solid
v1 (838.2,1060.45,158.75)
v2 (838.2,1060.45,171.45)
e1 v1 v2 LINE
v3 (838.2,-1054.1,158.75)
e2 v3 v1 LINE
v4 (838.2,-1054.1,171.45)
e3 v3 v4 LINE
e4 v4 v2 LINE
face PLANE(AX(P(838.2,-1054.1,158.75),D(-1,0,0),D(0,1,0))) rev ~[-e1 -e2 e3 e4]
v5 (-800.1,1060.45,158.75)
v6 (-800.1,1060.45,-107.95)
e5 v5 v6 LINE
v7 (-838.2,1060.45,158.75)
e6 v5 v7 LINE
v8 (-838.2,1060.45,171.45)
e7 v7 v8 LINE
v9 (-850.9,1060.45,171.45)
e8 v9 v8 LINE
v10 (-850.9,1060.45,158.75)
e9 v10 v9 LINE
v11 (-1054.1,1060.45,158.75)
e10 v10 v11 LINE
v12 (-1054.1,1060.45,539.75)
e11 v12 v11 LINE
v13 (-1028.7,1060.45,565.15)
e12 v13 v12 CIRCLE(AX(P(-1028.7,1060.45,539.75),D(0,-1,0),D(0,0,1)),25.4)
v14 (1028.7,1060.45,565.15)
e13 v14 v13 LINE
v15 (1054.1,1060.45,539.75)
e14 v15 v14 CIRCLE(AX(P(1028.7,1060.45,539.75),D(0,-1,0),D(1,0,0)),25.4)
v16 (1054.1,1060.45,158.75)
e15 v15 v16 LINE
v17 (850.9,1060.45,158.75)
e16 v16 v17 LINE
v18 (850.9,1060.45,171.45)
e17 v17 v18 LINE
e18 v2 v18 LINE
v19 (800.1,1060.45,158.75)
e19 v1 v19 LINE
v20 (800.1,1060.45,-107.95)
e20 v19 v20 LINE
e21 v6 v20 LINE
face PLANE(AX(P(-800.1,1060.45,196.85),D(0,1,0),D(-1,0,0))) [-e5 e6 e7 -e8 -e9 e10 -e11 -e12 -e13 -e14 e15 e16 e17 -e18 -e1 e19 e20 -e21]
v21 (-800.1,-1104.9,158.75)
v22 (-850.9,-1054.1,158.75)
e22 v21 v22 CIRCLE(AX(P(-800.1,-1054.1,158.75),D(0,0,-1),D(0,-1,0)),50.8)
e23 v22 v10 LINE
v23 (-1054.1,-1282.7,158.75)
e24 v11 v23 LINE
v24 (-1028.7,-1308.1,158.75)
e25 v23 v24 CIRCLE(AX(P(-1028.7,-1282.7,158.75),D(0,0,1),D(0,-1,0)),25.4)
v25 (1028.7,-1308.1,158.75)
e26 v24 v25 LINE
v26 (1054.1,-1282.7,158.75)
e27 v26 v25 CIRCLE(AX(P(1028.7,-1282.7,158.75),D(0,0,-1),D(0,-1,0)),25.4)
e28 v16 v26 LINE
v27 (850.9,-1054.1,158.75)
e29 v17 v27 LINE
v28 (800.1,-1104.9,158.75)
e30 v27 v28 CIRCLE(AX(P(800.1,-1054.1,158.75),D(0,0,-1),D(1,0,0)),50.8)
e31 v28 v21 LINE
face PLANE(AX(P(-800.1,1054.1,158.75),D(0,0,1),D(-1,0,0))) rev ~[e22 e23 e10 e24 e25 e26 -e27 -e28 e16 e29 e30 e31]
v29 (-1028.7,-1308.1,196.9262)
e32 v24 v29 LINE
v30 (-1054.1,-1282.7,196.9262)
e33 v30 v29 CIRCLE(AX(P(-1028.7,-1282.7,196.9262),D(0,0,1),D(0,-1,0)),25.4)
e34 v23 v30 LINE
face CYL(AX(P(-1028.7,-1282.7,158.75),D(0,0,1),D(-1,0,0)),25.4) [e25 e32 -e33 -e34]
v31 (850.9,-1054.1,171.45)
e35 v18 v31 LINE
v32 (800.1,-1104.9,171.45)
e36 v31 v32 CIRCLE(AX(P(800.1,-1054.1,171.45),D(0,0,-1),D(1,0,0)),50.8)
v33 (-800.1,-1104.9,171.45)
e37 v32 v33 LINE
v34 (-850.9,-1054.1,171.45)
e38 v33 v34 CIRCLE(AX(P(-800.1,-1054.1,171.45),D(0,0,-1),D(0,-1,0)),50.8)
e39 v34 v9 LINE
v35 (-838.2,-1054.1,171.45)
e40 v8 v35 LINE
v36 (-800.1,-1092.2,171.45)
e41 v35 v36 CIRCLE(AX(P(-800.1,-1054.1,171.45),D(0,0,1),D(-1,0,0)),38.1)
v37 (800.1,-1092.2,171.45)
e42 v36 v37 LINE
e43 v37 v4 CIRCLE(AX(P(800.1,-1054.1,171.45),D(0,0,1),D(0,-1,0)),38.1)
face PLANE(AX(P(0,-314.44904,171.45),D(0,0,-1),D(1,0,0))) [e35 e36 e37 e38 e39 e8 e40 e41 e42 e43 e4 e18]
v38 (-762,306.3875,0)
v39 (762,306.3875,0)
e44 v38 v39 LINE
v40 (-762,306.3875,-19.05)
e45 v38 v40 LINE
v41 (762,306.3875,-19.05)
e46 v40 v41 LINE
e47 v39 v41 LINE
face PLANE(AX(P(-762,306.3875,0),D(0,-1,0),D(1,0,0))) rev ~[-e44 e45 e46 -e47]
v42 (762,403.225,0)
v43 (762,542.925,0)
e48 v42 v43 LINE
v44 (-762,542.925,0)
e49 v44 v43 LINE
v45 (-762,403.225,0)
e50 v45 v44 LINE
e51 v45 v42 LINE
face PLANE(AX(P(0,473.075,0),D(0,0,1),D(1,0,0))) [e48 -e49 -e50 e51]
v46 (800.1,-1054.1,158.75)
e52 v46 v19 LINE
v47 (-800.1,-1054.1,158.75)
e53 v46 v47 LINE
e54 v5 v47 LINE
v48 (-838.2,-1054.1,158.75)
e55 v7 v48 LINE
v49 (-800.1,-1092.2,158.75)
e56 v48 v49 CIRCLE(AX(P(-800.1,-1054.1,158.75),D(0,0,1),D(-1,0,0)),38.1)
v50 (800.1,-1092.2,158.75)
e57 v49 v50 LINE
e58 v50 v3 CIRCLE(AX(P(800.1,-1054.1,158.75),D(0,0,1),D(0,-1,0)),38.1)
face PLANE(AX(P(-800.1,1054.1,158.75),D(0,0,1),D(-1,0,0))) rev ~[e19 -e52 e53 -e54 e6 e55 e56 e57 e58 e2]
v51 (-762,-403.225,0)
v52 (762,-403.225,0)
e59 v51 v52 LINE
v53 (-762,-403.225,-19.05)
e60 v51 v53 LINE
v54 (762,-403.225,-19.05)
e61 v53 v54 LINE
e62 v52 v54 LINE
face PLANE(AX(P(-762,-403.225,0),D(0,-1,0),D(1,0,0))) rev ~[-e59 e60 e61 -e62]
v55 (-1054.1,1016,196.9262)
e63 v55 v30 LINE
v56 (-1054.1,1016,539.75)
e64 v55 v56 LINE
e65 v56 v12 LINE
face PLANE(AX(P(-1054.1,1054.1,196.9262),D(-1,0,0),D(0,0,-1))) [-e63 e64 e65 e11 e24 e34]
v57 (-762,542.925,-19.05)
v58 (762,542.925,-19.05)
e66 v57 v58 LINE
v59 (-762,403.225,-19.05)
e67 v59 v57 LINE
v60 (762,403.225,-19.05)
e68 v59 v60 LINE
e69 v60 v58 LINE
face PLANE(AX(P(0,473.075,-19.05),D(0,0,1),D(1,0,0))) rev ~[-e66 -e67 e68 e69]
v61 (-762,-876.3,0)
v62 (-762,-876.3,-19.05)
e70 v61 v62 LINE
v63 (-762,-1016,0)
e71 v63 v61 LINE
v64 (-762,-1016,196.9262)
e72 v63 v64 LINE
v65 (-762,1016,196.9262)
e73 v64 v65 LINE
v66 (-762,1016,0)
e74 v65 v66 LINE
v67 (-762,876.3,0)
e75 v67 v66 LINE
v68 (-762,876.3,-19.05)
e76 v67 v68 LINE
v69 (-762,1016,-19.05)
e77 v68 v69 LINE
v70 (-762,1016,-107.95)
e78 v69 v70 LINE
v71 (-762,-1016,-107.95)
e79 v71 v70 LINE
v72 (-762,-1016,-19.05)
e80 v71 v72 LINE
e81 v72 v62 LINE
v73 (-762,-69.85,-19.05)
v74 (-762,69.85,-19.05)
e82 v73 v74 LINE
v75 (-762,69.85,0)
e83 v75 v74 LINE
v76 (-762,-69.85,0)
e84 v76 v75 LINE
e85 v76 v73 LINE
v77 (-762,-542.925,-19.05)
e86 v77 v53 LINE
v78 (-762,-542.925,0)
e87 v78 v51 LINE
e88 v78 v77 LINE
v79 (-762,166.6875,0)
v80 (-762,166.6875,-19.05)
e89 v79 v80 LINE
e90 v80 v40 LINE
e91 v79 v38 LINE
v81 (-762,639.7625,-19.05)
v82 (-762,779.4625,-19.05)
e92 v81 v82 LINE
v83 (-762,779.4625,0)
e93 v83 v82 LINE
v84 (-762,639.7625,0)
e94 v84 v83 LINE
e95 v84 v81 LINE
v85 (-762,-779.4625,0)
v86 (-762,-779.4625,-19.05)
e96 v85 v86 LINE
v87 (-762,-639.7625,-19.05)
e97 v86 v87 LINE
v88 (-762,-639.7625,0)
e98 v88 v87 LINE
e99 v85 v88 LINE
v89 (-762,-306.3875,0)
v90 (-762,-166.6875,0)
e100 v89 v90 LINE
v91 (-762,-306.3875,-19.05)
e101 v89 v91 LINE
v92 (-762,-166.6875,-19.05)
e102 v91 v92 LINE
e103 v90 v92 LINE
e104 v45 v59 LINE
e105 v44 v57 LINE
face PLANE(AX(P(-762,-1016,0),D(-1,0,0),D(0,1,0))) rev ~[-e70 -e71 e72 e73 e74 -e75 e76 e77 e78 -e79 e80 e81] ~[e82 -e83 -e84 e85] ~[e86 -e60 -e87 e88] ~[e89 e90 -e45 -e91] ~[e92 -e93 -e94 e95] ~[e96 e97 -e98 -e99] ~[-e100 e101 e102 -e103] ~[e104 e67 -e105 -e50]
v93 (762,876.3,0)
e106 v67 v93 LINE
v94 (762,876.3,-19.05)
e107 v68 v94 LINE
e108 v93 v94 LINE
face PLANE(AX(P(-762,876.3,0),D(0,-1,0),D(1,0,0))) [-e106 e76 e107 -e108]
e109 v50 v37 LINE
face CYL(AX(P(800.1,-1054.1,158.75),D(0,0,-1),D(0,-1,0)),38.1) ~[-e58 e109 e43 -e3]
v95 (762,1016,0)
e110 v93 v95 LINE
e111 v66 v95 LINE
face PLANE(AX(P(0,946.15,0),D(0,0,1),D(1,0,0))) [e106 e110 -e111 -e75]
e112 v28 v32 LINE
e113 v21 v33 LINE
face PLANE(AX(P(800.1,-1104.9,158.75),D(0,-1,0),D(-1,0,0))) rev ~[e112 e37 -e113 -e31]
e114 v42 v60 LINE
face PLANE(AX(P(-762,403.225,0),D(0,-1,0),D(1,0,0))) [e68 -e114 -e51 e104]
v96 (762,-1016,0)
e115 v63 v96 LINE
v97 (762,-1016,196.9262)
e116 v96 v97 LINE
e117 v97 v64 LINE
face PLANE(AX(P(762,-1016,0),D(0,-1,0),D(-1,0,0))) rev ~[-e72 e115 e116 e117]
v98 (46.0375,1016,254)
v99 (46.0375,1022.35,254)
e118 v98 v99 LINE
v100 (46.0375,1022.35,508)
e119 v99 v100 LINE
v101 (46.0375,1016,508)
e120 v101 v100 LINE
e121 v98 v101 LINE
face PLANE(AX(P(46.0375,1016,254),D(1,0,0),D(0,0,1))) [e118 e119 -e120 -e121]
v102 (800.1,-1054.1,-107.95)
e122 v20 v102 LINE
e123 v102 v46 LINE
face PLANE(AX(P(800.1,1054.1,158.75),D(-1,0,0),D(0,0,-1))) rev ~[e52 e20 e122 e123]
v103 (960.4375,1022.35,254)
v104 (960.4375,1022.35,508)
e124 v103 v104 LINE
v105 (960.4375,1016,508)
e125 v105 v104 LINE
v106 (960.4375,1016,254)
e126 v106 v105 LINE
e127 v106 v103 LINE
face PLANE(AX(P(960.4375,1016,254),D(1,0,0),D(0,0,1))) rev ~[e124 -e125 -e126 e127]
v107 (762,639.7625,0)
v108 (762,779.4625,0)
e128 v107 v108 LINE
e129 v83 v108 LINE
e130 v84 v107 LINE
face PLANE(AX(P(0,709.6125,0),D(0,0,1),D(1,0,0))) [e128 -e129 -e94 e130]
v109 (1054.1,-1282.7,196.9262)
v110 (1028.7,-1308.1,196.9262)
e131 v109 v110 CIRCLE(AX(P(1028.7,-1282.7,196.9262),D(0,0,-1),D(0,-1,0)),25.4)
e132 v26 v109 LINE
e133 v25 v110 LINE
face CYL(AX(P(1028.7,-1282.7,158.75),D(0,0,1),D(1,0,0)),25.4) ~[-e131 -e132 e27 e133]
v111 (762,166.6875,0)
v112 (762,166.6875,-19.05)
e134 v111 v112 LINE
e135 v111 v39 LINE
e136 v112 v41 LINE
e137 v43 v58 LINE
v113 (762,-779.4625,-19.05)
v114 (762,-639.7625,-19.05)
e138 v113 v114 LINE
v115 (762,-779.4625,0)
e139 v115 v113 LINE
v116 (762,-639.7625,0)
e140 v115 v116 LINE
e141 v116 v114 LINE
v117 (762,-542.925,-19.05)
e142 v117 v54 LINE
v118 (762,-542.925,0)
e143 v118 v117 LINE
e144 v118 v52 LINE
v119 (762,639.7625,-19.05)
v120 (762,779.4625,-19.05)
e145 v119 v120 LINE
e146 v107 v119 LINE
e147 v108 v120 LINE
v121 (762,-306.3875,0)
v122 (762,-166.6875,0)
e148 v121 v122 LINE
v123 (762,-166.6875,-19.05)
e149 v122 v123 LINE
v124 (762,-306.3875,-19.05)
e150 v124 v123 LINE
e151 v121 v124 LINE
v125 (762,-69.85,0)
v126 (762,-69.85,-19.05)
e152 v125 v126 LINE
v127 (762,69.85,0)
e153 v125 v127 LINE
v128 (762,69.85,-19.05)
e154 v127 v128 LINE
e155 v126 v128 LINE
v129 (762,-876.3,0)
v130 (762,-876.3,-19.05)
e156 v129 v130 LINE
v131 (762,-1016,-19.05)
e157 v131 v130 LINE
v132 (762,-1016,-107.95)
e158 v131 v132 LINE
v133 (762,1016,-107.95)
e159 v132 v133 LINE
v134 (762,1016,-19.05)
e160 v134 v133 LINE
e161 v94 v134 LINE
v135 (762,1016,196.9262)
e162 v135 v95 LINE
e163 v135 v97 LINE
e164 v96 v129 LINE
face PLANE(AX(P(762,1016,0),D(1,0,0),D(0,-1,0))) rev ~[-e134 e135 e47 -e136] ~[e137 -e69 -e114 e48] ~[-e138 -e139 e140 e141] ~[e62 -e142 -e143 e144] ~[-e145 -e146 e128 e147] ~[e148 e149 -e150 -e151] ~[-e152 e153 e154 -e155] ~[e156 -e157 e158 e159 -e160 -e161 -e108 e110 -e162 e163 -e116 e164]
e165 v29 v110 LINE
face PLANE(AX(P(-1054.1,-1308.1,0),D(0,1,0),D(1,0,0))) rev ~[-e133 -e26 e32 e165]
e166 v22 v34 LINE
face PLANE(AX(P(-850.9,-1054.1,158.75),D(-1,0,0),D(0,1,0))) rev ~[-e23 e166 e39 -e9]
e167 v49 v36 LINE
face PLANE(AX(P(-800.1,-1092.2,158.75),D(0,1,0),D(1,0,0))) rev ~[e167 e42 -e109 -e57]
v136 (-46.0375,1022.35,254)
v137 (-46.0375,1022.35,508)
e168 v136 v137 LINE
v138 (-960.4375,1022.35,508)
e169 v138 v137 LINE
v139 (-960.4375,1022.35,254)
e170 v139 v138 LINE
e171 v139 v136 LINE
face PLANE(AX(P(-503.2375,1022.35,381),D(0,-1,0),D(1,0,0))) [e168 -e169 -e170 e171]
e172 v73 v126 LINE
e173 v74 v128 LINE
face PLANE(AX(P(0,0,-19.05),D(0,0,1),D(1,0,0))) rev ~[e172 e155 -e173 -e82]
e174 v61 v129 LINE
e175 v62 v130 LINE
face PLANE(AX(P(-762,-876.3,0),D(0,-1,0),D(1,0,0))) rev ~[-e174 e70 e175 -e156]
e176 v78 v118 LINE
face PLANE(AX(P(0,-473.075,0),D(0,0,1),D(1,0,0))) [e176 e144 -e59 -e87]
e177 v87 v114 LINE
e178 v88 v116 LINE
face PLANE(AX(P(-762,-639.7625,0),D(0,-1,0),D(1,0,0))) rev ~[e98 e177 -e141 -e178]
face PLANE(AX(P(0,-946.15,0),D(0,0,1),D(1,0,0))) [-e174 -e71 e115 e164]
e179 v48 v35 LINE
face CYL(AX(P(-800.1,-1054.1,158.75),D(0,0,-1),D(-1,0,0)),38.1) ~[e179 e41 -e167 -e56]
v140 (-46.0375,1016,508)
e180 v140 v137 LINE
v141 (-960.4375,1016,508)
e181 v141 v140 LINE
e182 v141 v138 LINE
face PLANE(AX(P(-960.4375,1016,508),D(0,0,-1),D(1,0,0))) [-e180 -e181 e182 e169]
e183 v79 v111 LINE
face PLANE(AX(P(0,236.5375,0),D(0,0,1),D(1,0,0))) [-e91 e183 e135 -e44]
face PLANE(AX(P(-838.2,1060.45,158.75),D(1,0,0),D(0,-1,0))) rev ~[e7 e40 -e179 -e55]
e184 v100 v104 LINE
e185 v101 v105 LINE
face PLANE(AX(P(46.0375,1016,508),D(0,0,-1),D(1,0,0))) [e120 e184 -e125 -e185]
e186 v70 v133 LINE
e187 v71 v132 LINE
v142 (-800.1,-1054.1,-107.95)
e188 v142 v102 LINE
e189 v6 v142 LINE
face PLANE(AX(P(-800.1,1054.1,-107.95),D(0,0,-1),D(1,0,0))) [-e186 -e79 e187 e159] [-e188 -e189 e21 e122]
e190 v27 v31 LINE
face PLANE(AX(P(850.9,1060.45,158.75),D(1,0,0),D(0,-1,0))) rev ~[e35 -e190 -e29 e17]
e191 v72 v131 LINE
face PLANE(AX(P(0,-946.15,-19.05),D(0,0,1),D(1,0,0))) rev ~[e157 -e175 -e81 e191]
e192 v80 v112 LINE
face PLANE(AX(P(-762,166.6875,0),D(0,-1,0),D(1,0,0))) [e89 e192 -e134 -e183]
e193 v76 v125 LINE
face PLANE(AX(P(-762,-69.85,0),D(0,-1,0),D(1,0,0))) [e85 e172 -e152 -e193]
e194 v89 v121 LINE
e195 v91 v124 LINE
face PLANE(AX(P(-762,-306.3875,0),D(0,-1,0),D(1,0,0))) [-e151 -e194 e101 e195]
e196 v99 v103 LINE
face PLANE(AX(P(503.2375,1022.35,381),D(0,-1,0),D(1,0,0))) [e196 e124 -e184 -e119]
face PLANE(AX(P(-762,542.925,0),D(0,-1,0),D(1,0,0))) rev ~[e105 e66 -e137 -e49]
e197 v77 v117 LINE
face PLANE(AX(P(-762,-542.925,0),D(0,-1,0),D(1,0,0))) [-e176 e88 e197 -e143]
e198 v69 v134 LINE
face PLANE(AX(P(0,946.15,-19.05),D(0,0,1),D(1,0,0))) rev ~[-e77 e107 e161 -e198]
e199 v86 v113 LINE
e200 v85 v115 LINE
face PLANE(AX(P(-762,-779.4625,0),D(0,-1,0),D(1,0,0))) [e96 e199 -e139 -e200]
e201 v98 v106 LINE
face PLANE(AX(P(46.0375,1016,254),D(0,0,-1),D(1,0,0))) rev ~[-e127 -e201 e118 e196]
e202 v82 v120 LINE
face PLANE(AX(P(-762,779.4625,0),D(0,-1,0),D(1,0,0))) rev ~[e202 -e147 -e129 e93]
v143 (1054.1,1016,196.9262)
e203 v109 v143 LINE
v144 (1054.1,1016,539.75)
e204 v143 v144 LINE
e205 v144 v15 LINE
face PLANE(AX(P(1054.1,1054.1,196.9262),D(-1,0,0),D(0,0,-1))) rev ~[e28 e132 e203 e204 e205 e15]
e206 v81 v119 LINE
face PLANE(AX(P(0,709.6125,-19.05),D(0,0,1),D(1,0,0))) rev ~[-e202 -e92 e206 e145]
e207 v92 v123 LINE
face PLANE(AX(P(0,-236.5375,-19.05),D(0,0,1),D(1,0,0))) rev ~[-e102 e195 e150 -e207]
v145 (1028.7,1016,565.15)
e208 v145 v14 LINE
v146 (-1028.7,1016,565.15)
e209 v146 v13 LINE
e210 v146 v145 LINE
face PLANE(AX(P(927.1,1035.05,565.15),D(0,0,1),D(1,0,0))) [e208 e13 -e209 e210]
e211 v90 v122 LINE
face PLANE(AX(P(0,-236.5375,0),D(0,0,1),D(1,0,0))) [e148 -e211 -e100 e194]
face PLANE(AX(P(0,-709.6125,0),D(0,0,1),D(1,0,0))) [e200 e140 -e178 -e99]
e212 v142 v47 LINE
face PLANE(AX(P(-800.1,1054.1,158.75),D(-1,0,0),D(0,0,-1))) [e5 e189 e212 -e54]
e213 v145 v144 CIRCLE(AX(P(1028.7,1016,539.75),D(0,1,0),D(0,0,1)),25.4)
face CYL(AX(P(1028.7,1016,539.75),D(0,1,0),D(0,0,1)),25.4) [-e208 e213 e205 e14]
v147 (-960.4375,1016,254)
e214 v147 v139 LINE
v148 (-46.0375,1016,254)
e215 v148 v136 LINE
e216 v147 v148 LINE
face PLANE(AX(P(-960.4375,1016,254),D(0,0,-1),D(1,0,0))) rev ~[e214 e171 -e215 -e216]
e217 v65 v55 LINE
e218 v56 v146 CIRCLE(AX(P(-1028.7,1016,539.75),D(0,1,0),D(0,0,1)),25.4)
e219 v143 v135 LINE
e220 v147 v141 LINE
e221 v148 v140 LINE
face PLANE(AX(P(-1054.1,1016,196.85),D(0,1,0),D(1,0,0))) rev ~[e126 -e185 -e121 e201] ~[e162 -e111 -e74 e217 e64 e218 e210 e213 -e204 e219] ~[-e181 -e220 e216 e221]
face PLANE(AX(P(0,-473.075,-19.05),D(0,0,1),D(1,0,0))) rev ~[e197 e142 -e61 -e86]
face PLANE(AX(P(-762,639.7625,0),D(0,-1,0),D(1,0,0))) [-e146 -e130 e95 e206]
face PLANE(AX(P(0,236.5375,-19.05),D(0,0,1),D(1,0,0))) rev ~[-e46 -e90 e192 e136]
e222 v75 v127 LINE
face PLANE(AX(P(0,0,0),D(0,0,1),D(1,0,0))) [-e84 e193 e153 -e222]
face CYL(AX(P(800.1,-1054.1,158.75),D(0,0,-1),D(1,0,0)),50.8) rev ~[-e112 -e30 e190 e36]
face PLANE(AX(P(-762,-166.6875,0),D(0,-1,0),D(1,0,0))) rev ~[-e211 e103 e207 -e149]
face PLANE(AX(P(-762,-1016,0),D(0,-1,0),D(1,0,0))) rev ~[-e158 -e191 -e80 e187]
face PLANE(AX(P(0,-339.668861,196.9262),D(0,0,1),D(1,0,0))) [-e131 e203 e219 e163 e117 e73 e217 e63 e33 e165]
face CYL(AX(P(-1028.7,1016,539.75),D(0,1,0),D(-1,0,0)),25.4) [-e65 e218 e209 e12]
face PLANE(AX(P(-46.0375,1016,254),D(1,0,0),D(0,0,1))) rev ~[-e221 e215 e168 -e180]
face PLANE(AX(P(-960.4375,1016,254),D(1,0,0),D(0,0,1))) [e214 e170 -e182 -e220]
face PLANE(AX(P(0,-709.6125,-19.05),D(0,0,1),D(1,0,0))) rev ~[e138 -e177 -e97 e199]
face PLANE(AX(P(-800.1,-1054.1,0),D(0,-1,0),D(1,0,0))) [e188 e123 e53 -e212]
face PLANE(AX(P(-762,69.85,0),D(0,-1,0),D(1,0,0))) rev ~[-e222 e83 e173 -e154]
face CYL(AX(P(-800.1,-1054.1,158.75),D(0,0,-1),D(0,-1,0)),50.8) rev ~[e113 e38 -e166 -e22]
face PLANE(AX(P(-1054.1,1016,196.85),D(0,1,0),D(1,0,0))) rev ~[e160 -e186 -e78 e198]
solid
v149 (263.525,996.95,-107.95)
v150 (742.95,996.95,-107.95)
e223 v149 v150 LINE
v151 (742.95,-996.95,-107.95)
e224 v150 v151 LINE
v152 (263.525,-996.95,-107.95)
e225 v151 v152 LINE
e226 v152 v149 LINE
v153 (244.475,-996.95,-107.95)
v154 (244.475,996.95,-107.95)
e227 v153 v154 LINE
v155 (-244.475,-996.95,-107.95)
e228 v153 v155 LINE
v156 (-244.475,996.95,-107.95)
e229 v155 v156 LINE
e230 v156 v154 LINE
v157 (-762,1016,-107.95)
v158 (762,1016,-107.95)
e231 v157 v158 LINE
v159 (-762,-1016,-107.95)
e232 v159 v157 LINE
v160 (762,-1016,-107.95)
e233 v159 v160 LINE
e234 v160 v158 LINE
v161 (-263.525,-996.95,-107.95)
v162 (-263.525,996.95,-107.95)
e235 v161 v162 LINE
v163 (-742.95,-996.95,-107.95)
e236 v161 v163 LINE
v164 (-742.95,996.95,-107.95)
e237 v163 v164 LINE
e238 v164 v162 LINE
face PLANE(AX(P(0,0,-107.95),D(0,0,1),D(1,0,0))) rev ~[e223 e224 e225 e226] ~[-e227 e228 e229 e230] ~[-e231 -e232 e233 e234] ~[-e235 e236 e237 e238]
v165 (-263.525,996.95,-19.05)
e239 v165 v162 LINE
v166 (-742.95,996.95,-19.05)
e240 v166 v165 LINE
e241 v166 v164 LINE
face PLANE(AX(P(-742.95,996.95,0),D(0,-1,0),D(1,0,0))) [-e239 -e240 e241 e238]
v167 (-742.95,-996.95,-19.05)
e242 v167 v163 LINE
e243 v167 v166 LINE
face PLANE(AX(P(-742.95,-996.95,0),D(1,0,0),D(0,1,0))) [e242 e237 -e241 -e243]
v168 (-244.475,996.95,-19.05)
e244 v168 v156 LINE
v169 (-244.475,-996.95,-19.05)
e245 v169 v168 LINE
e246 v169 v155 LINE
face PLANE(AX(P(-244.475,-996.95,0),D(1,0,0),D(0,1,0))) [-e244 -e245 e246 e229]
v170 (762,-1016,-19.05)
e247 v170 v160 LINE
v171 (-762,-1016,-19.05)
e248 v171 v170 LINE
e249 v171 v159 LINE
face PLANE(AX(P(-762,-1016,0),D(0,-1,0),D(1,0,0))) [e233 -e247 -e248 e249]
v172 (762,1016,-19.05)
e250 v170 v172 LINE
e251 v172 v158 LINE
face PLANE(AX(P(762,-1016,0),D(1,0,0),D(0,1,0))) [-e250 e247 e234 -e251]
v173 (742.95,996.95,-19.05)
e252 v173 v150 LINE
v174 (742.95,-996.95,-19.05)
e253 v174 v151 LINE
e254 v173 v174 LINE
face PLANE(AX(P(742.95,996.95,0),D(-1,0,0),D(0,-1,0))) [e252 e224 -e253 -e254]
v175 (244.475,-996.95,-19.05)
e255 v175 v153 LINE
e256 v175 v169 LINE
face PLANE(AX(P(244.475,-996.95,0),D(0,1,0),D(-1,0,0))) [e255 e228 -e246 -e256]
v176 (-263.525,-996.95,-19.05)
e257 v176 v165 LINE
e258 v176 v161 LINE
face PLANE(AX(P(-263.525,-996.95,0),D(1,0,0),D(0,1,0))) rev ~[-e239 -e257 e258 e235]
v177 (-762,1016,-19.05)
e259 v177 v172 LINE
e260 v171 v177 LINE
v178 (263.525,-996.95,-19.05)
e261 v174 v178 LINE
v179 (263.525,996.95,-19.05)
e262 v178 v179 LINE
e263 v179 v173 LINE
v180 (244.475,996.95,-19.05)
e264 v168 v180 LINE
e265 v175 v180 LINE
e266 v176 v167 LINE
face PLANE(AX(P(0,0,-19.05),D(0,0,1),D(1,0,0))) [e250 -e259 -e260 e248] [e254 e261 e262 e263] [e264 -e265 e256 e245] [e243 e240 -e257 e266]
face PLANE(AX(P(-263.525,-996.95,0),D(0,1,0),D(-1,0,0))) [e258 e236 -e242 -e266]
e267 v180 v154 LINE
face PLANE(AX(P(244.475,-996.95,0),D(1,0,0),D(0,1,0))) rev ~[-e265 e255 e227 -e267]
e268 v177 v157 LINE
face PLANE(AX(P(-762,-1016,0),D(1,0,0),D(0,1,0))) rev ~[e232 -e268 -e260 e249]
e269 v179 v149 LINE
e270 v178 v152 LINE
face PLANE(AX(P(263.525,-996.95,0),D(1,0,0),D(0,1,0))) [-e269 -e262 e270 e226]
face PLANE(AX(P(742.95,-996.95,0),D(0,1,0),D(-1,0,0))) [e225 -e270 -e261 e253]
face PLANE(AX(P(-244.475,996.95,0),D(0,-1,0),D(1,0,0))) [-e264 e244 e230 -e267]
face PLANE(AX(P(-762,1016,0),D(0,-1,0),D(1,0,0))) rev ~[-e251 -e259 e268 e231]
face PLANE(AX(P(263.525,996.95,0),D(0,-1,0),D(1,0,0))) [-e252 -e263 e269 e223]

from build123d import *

# Parameters (mm, degrees)
F0_W          = 1600.2
F0_H          = 2108.2
F0_W_2        = 1524
F0_H_2        = 2032
F1_DEPTH      = 196.85
F1_DEPTH_BACK = 107.95
F2_W          = 1524
F2_H          = 2032
F2_W_2        = 19.05
F2_H_2        = 1993.9
F3_DEPTH      = 107.95
F4_DEPTH      = 19.05
F5_W          = 1524
F5_H          = 139.7
F6_DEPTH      = 19.05
F7_W          = 254
F7_H          = 38.1
F8_DEPTH      = 368.3
F10_DEPTH     = 196.9262
F11_DEPTH     = 158.75
F12_DEPTH     = 38.1
F13_R         = 25.4
F14_R         = 25.4
F15_W         = 914.4
F15_H         = 254
F16_DEPTH     = 44.45
F17_DEPTH     = 6.35
F18_DEPTH     = 6.35
F20_DEPTH     = 12.7


with BuildPart() as f1:
    # F0 (on Top) → F1 (new body, two sides)
    with BuildSketch(Plane.XY) as f1_sk:
        Rectangle(F0_W, F0_H)
        Rectangle(F0_W_2, F0_H_2, mode=Mode.SUBTRACT)
    extrude(amount=F1_DEPTH)
    extrude(f1_sk.sketch, amount=-F1_DEPTH_BACK)

    # F7 (on face) → F8 (join)
    with BuildSketch(Plane.XY.offset(196.85)):
        with Locations((927.1, 1035.05)):
            Rectangle(F7_W, F7_H)
        with Locations((-927.1, 1035.05)):
            Rectangle(F7_W, F7_H)
        Polygon((800.1, 1054.1), (-800.1, 1054.1), (-800.1, 1016), (-762, 1016), (762, 1016), (800.1, 1016), align=None)
    extrude(amount=F8_DEPTH)



with BuildPart() as f3:
    # F2 (on Top) → F3 (new body)
    with BuildSketch(Plane.XY):
        Rectangle(F2_W, F2_H)
        Polygon((742.95, 996.95), (742.95, -996.95), (263.525, -996.95), (244.475, -996.95), (-244.475, -996.95), (-263.525, -996.95), (-742.95, -996.95), (-742.95, 996.95), (-263.525, 996.95), (-244.475, 996.95), (244.475, 996.95), (263.525, 996.95), align=None, mode=Mode.SUBTRACT)
        with Locations((-254, 0)):
            Rectangle(F2_W_2, F2_H_2)
        with Locations((254, 0)):
            Rectangle(F2_W_2, F2_H_2)
    extrude(amount=-F3_DEPTH)

    # F4 (cut): a face of the model
    f4_faces = [f3.faces().sort_by_distance(p)[0] for p in [
        (0, -1013.46, 0),
    ]]
    extrude(f4_faces, amount=-F4_DEPTH, mode=Mode.SUBTRACT)


with BuildPart() as f6:
    # F5 (on Top) → F6 (new body)
    with BuildSketch(Plane.XY):
        with Locations((0, 946.15)):
            Rectangle(F5_W, F5_H)
    extrude(amount=-F6_DEPTH)


with BuildPart() as f6b:
    # F5 (on Top) → F6, piece 2 (new body)
    with BuildSketch(Plane.XY):
        with Locations((0, 709.6125)):
            Rectangle(F5_W, F5_H)
    extrude(amount=-F6_DEPTH)


with BuildPart() as f6c:
    # F5 (on Top) → F6, piece 3 (new body)
    with BuildSketch(Plane.XY):
        with Locations((0, 473.075)):
            Rectangle(F5_W, F5_H)
    extrude(amount=-F6_DEPTH)


with BuildPart() as f6d:
    # F5 (on Top) → F6, piece 4 (new body)
    with BuildSketch(Plane.XY):
        with Locations((0, 236.5375)):
            Rectangle(F5_W, F5_H)
    extrude(amount=-F6_DEPTH)


with BuildPart() as f6e:
    # F5 (on Top) → F6, piece 5 (new body)
    with BuildSketch(Plane.XY):
        Rectangle(F5_W, F5_H)
    extrude(amount=-F6_DEPTH)


with BuildPart() as f6f:
    # F5 (on Top) → F6, piece 6 (new body)
    with BuildSketch(Plane.XY):
        with Locations((0, -236.5375)):
            Rectangle(F5_W, F5_H)
    extrude(amount=-F6_DEPTH)


with BuildPart() as f6g:
    # F5 (on Top) → F6, piece 7 (new body)
    with BuildSketch(Plane.XY):
        with Locations((0, -473.075)):
            Rectangle(F5_W, F5_H)
    extrude(amount=-F6_DEPTH)


with BuildPart() as f6h:
    # F5 (on Top) → F6, piece 8 (new body)
    with BuildSketch(Plane.XY):
        with Locations((0, -709.6125)):
            Rectangle(F5_W, F5_H)
    extrude(amount=-F6_DEPTH)


with BuildPart() as f6i:
    # F5 (on Top) → F6, piece 9 (new body)
    with BuildSketch(Plane.XY):
        with Locations((0, -946.15)):
            Rectangle(F5_W, F5_H)
    extrude(amount=-F6_DEPTH)


with BuildPart() as f1_1:
    add(f1.part)

    add(f6.part)  # F10 merges F6

    add(f6b.part)  # F10 merges F6b

    add(f6c.part)  # F10 merges F6c

    add(f6d.part)  # F10 merges F6d

    add(f6e.part)  # F10 merges F6e

    add(f6f.part)  # F10 merges F6f

    add(f6g.part)  # F10 merges F6g

    add(f6h.part)  # F10 merges F6h

    add(f6i.part)  # F10 merges F6i
    # F9 (on Top) → F10 (join)
    with BuildSketch(Plane.XY):
        Polygon((762, 1016), (762, -1016), (-762, -1016), (-762, 1016), (-1054.1, 1016), (-1054.1, -1308.1), (1054.1, -1308.1), (1054.1, 1016), align=None)
    extrude(amount=F10_DEPTH)

    # F11 (cut): a face of the model
    f11_faces = [f1_1.faces().sort_by_distance(p)[0] for p in [
        (927.1, 984.6217463042, 0),
    ]]
    extrude(f11_faces, amount=-F11_DEPTH, mode=Mode.SUBTRACT)

    # F12 (add): faces of the model
    f12_faces = [f1_1.faces().sort_by_distance(p)[0] for p in [
        (-927.1, 1035.05, 196.85),
        (927.1, 1035.05, 196.85),
    ]]
    extrude(f12_faces, amount=F12_DEPTH)

    # F13
    f13_edges = [f1_1.edges().sort_by_distance(p)[0] for p in [
        (-1054.1, -1308.1, 177.8381),
        (1054.1, -1308.1, 177.8381),
    ]]
    fillet(f13_edges, radius=F13_R)

    # F14
    f14_edges = [f1_1.edges().sort_by_distance(p)[0] for p in [
        (-1054.1, 1035.05, 565.15),
        (1054.1, 1035.05, 565.15),
    ]]
    fillet(f14_edges, radius=F14_R)

    # F15 (on face) → F16 (join)
    with BuildSketch(Plane.XZ.offset(-1016)):
        with BuildLine():
            Line((762, 196.9262), (1054.1, 196.9262))
            Line((1054.1, 196.9262), (1054.1, 539.75))
            ThreePointArc((1054.1, 539.75), (1046.6605122421, 557.7105122421), (1028.7, 565.15))
            Line((1028.7, 565.15), (-1028.7, 565.15))
            ThreePointArc((-1028.7, 565.15), (-1046.6605122421, 557.7105122421), (-1054.1, 539.75))
            Line((-1054.1, 539.75), (-1054.1, 196.9262))
            Line((-1054.1, 196.9262), (-762, 196.9262))
            Line((-762, 196.9262), (-762, 0))
            Line((-762, 0), (762, 0))
            Line((762, 0), (762, 196.9262))
        make_face()
        with Locations((-503.2375, 381)):
            Rectangle(F15_W, F15_H, mode=Mode.SUBTRACT)
        with Locations((503.2375, 381)):
            Rectangle(F15_W, F15_H, mode=Mode.SUBTRACT)
        with Locations((503.2375, 381)):
            Rectangle(F15_W, F15_H)
        with Locations((-503.2375, 381)):
            Rectangle(F15_W, F15_H)
    extrude(amount=-F16_DEPTH)

    # F15 (on face) → F17 (cut)
    with BuildSketch(Plane.XZ.offset(-1016)):
        with Locations((-503.2375, 381)):
            Rectangle(F15_W, F15_H)
        with Locations((503.2375, 381)):
            Rectangle(F15_W, F15_H)
    extrude(amount=-F17_DEPTH, mode=Mode.SUBTRACT)

    # F18 (add): a face of the model
    f18_faces = [f1_1.faces().sort_by_distance(p)[0] for p in [
        (0, 1054.1, -21.2285823954),
    ]]
    extrude(f18_faces, amount=F18_DEPTH)

    # F19 (on face) → F20 (cut)
    with BuildSketch(Plane(origin=(0, 0, 158.75), x_dir=(1, 0, 0), z_dir=(0, 0, -1))):
        with BuildLine():
            Line((-850.9, -1060.45), (-838.2, -1060.45))
            Line((-838.2, -1060.45), (-838.2, 1054.1))
            ThreePointArc((-838.2, 1054.1), (-827.0407683632, 1081.0407683632), (-800.1, 1092.2))
            Line((-800.1, 1092.2), (800.1, 1092.2))
            ThreePointArc((800.1, 1092.2), (827.0407683632, 1081.0407683632), (838.2, 1054.1))
            Line((838.2, 1054.1), (838.2, -1060.45))
            Line((838.2, -1060.45), (850.9, -1060.45))
            Line((850.9, -1060.45), (850.9, 1054.1))
            ThreePointArc((850.9, 1054.1), (836.0210244843, 1090.0210244843), (800.1, 1104.9))
            Line((800.1, 1104.9), (-800.1, 1104.9))
            ThreePointArc((-800.1, 1104.9), (-836.0210244843, 1090.0210244843), (-850.9, 1054.1))
            Line((-850.9, 1054.1), (-850.9, -1060.45))
        make_face()
    extrude(amount=-F20_DEPTH, mode=Mode.SUBTRACT)


solid = Compound([f3.part, f1_1.part])
